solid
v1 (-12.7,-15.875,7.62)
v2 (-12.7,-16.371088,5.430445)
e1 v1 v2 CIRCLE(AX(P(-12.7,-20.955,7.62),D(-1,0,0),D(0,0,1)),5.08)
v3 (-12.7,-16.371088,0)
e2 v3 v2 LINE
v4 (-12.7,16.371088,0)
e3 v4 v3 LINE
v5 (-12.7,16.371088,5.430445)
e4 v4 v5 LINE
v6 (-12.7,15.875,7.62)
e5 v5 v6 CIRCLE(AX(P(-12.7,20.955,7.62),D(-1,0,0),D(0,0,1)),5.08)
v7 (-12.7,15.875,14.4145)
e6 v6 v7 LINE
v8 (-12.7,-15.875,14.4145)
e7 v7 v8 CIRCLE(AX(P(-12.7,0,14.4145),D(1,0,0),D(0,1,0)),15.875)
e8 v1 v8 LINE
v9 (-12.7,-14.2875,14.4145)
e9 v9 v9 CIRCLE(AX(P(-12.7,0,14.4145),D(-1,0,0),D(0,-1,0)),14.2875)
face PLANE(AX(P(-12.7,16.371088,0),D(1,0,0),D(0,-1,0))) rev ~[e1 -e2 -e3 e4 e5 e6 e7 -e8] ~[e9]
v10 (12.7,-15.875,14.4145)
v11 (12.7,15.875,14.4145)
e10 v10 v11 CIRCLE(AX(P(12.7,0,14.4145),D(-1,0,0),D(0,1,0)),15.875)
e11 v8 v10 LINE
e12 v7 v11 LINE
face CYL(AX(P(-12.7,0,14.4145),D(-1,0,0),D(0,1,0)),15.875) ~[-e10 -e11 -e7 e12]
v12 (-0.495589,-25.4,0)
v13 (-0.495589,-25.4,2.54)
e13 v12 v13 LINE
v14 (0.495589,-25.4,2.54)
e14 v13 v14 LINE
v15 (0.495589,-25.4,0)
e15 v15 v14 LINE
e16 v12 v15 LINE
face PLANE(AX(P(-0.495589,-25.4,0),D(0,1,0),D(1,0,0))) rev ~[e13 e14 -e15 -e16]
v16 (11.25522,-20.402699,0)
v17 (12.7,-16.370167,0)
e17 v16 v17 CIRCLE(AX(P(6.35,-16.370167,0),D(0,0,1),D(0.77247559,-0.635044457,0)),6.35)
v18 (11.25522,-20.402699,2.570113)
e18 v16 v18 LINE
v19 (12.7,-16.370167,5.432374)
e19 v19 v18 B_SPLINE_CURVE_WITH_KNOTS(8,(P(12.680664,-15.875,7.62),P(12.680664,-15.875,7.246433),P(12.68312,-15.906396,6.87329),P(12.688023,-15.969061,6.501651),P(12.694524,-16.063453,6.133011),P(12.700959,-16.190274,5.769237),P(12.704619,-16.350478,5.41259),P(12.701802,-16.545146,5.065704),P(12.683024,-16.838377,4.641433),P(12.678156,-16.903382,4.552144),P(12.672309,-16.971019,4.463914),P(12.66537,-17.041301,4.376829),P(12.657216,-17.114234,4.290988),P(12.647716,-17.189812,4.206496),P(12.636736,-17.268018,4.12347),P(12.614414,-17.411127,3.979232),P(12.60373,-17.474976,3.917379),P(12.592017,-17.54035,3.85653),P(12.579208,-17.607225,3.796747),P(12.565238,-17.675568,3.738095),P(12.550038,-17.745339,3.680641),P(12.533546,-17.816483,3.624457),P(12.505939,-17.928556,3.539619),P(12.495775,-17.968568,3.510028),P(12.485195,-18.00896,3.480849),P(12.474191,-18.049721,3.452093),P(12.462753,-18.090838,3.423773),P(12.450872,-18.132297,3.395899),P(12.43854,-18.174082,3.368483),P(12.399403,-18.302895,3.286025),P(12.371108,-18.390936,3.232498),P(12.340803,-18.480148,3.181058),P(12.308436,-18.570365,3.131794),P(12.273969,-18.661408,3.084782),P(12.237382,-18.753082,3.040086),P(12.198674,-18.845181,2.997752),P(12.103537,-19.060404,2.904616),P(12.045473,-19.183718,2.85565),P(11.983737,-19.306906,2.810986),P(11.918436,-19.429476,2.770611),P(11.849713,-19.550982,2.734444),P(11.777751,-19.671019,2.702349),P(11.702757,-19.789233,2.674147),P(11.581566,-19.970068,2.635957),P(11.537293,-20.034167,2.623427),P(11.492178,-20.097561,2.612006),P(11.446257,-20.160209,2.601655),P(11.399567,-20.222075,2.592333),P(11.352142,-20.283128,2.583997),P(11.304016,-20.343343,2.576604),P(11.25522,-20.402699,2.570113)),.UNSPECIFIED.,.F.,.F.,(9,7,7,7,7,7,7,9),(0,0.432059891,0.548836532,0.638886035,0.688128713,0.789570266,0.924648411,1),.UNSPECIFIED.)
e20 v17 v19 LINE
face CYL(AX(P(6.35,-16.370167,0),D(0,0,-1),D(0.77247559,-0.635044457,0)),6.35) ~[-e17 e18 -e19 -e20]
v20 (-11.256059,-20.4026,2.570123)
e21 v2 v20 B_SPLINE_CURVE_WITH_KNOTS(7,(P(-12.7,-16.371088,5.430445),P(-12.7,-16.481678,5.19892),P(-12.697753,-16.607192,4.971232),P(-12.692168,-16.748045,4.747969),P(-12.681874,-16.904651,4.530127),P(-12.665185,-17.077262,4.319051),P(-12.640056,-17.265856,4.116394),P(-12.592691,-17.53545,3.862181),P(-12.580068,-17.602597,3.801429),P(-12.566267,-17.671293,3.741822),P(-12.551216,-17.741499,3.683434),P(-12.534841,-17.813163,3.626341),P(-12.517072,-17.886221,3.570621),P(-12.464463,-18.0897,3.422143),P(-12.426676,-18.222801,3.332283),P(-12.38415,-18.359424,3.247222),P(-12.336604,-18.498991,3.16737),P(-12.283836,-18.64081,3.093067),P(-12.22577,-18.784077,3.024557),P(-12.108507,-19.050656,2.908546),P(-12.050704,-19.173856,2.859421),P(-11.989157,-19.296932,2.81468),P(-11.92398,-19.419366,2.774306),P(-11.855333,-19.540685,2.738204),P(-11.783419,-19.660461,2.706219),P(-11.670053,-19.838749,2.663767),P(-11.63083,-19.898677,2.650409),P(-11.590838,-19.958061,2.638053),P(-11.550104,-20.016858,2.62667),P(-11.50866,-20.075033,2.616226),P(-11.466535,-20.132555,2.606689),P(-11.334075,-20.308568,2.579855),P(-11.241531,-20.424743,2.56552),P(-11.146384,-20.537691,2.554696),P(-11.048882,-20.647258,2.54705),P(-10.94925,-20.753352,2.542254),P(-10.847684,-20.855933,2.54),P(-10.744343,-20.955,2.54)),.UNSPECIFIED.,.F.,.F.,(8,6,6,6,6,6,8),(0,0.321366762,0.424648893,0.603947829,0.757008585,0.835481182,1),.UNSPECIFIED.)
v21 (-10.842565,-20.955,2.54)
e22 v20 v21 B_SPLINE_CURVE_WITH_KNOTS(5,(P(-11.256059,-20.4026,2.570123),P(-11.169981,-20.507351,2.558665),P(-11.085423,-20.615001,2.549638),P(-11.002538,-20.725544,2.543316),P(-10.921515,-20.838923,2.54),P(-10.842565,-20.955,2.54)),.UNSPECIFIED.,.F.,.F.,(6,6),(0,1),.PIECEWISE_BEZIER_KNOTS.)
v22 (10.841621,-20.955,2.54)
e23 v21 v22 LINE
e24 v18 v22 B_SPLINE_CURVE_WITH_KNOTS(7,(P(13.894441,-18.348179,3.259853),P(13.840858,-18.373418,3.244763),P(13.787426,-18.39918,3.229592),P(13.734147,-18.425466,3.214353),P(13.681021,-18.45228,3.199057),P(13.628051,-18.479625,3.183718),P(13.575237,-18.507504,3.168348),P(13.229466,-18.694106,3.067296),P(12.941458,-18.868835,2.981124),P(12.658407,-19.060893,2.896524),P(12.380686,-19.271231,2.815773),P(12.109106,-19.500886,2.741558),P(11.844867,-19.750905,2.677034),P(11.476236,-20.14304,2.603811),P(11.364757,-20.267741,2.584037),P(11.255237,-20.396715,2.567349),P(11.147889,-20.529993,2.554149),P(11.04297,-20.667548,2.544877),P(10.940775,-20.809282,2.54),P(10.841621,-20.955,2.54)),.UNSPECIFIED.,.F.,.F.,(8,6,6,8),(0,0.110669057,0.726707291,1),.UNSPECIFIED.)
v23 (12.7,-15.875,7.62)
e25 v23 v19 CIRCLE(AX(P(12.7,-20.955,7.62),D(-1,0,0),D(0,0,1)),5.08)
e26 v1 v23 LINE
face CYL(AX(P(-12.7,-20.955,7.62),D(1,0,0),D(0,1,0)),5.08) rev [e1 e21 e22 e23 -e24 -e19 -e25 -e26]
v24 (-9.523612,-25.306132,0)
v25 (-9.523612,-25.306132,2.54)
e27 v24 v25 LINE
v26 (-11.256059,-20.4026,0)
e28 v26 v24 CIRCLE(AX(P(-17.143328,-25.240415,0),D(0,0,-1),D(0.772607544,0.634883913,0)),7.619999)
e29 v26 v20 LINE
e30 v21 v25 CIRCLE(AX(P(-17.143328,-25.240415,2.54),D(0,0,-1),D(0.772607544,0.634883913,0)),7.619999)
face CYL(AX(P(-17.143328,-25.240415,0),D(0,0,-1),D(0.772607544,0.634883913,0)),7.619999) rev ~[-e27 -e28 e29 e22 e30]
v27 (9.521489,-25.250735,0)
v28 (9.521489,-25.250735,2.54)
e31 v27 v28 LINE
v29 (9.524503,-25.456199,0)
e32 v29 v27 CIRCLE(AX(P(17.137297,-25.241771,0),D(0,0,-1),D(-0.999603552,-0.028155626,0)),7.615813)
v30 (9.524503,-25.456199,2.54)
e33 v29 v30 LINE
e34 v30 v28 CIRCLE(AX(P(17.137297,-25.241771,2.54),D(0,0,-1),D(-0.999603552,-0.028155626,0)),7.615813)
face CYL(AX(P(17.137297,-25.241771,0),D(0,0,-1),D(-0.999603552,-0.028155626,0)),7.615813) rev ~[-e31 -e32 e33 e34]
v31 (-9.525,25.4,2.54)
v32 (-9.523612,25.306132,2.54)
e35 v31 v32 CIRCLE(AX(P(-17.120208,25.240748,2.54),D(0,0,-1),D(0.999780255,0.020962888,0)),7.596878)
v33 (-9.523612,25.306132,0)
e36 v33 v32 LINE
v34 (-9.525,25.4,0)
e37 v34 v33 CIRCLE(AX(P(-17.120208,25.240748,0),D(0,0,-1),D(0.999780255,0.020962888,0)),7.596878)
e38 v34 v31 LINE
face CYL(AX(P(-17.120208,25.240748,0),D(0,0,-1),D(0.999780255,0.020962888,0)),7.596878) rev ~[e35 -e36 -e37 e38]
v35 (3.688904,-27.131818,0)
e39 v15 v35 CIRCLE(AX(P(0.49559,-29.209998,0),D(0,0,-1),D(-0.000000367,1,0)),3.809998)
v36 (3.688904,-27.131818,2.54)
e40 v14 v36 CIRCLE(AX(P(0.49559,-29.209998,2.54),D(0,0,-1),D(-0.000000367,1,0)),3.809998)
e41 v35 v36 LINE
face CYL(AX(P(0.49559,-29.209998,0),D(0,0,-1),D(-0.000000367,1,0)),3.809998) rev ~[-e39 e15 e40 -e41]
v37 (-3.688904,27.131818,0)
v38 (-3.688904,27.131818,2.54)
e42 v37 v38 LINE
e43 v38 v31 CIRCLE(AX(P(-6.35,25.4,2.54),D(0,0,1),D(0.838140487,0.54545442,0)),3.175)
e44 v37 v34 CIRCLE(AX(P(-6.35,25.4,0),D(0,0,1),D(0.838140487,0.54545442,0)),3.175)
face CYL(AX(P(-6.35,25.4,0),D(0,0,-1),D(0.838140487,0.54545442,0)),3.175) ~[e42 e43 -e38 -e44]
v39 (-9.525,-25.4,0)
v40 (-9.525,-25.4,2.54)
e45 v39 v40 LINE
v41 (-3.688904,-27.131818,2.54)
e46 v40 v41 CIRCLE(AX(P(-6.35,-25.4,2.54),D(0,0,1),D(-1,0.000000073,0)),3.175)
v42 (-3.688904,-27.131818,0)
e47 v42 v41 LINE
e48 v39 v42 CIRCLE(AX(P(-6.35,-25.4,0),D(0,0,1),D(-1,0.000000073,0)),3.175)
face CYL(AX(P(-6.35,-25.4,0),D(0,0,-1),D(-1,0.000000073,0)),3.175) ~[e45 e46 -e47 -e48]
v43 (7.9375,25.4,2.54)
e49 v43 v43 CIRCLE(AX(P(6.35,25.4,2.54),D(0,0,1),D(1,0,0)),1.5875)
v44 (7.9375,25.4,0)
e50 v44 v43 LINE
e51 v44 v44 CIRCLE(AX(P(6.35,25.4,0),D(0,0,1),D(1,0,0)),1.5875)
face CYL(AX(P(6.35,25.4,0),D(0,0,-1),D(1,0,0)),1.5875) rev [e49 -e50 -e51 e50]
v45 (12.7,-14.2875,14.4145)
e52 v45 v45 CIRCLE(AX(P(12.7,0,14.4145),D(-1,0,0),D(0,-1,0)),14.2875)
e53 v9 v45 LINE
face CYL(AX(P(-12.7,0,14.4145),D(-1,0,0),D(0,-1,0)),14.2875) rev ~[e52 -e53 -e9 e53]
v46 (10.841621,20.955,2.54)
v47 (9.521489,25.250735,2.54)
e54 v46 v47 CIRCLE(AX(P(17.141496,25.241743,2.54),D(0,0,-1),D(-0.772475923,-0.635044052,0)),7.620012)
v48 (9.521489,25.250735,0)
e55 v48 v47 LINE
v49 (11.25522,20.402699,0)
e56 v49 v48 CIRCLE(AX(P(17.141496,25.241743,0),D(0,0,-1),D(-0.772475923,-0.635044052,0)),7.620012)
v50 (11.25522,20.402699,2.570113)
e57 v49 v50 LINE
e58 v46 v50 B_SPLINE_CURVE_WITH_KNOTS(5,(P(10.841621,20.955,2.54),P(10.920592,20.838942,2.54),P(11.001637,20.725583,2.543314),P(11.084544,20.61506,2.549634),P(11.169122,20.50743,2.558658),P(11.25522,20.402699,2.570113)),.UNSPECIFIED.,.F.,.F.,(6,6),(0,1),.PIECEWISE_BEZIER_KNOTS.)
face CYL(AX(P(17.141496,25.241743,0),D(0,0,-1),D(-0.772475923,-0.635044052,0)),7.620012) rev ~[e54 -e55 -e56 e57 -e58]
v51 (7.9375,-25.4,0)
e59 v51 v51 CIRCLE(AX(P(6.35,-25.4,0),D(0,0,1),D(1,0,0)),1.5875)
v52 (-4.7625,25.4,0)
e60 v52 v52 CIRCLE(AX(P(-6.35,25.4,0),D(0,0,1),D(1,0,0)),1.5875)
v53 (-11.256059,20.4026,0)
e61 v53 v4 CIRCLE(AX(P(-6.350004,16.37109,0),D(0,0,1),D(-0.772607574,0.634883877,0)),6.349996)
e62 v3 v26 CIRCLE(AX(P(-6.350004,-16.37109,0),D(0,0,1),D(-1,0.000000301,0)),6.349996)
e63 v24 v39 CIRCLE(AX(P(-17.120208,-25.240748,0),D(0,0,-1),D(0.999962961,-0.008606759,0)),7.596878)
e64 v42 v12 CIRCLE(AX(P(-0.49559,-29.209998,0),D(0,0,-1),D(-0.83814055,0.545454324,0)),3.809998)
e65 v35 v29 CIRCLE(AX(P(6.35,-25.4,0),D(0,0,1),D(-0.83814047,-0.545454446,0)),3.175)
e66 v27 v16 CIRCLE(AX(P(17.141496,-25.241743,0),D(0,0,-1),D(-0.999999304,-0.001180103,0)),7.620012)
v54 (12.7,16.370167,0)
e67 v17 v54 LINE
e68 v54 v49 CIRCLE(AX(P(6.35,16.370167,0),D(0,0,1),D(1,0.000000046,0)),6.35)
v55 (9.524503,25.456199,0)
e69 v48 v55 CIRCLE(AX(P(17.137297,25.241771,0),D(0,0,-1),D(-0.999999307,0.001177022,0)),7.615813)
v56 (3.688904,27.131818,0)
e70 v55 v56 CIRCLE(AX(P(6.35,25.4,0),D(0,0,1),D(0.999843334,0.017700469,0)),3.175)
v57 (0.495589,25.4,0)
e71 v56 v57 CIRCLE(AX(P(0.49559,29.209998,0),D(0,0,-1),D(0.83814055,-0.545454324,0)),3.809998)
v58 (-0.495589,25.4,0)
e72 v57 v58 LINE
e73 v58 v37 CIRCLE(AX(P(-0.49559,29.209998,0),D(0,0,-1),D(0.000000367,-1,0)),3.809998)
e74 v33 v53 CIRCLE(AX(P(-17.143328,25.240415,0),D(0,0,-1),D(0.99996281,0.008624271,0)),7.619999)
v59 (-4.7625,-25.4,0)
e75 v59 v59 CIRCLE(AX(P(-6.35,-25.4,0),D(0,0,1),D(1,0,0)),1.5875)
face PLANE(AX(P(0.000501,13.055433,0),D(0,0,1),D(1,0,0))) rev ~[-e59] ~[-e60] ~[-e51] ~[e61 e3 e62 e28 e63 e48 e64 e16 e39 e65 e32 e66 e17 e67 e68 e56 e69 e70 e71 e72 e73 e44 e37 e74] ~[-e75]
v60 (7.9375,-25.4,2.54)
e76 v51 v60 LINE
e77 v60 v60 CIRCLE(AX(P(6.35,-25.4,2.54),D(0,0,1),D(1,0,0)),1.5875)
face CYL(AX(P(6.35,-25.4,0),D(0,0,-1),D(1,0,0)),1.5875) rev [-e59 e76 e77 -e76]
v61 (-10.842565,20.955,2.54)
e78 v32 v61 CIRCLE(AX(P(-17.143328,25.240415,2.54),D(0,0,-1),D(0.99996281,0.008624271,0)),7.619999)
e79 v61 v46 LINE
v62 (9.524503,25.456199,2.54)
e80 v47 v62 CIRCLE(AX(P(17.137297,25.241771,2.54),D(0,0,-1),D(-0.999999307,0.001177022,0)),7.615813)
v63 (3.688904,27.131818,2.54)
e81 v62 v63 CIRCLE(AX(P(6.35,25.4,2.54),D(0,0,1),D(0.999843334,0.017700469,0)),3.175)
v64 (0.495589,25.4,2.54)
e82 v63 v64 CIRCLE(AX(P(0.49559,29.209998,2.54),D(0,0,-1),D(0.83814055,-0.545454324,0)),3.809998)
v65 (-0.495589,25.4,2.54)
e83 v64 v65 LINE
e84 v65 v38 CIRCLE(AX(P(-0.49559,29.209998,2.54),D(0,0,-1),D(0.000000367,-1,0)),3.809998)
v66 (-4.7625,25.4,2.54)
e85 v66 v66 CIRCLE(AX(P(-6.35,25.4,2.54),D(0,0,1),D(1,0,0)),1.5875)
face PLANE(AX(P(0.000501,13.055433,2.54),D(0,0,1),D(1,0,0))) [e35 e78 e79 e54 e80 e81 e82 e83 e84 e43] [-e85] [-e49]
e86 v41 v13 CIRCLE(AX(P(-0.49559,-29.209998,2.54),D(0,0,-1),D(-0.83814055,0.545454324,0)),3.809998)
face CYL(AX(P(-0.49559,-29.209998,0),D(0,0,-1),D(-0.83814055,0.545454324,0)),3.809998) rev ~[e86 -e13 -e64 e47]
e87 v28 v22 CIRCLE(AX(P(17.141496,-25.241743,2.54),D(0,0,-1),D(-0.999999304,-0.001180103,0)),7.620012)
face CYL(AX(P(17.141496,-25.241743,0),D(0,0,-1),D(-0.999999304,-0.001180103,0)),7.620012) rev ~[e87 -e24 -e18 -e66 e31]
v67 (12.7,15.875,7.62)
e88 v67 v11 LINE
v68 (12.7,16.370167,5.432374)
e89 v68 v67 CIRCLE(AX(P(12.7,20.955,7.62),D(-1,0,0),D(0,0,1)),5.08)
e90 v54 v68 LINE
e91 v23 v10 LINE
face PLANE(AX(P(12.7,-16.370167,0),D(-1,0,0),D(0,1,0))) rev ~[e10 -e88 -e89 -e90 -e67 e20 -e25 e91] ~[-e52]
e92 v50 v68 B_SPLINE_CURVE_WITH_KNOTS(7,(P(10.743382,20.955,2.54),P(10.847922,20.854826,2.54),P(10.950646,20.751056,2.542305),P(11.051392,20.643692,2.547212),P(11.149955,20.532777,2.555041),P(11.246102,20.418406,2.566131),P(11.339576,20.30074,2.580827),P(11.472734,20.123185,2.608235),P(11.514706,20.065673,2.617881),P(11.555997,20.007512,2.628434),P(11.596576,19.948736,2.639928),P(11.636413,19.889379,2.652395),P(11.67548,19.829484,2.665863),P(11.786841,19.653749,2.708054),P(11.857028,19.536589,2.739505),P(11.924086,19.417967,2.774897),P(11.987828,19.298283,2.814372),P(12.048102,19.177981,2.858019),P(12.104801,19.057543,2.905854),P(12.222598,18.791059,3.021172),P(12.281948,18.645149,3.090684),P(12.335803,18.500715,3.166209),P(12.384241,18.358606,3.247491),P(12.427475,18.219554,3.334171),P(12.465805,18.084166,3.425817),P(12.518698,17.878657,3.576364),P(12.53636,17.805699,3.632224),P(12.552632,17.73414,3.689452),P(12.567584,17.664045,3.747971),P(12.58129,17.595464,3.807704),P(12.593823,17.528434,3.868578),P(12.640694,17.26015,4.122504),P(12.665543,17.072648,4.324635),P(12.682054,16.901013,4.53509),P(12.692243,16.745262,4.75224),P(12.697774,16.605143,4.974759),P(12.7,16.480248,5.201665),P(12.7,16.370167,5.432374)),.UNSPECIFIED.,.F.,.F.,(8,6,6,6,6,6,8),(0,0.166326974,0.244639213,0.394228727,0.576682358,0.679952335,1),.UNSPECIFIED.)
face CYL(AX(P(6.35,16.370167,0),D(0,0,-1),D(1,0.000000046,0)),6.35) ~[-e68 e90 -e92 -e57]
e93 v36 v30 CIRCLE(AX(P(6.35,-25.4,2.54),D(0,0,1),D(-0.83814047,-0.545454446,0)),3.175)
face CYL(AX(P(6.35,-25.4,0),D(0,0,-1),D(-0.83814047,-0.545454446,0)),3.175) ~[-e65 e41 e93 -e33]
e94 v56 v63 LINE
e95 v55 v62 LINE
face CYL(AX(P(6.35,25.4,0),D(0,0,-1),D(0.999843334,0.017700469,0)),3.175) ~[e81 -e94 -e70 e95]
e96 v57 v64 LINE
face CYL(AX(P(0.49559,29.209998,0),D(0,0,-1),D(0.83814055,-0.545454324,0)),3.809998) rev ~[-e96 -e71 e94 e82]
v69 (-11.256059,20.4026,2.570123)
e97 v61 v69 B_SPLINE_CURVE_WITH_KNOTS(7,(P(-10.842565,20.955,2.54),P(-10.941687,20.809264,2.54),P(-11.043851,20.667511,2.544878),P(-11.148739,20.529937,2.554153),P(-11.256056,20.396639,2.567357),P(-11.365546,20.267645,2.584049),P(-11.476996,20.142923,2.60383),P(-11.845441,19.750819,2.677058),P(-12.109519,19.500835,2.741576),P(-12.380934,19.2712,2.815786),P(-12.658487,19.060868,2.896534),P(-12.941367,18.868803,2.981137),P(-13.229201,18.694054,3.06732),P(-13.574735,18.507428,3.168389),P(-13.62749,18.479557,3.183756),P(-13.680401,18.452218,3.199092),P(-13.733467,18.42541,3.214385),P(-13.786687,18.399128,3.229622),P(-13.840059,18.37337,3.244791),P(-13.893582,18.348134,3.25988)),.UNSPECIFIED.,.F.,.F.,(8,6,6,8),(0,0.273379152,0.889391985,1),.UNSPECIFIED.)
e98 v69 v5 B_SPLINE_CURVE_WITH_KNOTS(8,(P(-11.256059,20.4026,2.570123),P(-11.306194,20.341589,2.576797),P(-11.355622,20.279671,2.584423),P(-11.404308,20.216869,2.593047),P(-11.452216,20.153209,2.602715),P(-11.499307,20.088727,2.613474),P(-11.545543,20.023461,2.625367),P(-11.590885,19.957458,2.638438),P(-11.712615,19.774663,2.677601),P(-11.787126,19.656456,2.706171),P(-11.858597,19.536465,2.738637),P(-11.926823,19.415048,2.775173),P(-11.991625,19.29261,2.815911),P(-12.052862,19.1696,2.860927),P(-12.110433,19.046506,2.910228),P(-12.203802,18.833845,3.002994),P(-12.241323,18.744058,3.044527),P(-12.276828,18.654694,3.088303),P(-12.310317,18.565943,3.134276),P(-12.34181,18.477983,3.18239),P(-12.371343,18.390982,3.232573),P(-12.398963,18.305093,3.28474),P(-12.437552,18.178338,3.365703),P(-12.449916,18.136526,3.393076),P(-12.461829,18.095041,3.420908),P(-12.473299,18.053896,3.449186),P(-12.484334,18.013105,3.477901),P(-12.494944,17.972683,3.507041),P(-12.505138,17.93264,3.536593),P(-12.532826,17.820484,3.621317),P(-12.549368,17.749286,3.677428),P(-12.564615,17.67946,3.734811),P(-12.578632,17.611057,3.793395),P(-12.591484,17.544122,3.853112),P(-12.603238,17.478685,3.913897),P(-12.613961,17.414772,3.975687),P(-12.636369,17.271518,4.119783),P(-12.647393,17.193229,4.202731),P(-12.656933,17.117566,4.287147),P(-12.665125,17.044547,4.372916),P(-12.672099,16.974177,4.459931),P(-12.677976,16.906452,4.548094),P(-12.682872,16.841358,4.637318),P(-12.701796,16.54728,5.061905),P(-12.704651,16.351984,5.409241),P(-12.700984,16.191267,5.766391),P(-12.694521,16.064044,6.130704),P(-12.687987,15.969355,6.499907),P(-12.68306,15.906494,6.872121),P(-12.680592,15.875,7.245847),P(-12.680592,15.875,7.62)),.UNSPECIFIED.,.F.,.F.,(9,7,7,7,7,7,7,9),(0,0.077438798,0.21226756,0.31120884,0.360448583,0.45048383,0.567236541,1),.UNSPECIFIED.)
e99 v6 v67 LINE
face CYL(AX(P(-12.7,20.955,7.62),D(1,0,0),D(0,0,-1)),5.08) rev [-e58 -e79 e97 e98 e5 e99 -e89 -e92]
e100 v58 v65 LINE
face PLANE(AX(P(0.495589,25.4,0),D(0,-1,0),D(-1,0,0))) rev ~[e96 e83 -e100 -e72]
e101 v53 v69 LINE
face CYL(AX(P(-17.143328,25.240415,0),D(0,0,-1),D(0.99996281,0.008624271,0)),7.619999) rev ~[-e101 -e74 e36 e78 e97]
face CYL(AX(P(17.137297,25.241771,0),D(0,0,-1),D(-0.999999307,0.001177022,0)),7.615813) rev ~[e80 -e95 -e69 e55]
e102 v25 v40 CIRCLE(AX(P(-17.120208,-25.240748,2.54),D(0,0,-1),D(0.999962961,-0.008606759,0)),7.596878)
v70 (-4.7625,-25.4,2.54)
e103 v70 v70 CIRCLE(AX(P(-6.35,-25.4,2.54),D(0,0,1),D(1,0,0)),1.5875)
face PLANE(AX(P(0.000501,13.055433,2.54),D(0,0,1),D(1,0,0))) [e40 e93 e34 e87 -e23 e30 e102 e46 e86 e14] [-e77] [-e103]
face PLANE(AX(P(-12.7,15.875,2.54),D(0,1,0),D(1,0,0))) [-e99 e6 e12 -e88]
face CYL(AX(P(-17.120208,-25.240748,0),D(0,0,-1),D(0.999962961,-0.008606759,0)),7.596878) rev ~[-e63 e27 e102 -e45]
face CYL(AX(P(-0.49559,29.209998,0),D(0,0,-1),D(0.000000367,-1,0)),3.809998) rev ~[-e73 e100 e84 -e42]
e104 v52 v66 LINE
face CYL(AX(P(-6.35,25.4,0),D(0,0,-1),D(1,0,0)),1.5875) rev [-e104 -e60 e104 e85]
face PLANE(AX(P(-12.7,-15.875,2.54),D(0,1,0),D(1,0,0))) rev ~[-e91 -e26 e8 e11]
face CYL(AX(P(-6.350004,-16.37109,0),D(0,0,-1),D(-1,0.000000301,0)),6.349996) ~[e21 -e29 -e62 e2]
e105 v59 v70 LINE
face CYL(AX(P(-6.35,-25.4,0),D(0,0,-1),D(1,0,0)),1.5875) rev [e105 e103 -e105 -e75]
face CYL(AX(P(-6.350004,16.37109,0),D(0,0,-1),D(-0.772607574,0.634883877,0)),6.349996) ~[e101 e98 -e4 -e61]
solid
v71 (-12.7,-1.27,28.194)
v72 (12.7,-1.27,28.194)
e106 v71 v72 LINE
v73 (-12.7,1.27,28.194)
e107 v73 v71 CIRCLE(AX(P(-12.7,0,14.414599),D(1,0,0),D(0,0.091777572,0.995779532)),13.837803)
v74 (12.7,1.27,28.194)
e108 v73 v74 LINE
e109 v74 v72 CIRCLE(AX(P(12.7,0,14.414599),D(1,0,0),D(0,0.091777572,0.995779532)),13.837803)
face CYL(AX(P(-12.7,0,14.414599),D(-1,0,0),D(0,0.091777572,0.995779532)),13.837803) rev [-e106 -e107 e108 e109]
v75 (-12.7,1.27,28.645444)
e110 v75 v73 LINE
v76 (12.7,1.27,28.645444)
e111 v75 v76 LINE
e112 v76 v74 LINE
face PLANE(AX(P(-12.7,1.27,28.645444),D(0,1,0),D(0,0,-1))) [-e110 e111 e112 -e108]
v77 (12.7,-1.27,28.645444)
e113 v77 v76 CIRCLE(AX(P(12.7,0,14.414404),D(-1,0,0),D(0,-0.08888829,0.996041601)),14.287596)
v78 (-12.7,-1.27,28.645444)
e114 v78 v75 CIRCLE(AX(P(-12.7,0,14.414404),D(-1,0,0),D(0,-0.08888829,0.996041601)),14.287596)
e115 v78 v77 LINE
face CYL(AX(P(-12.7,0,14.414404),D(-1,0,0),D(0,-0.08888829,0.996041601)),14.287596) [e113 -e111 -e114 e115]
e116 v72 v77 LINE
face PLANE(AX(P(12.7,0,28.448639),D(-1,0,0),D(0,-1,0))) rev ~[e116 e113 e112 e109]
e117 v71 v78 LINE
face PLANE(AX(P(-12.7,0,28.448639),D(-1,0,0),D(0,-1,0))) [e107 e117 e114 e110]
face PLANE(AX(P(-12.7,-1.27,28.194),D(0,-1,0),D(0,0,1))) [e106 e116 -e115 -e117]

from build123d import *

# Parameters (mm, degrees)
F0_R     = 1.5875
F1_DEPTH = 2.54
F2_W     = 25.4
F2_H     = 31.75
F3_DEPTH = 31.75
F4_R     = 14.2875
F5_DEPTH = 53.3654
F6_R     = 5.08
F8_DEPTH = 25.4


with BuildPart() as f1:
    # F0 (on Top) → F1 (new body)
    with BuildSketch(Plane.XY):
        with BuildLine():
            Line((0, 0), (12.7, 0))
            Line((12.7, 0), (12.7, 16.370167))
            ThreePointArc((12.7, 16.370167), (12.327903, 18.511936), (11.25522, 20.402699))
            ThreePointArc((11.25522, 20.402699), (9.966485, 22.67585), (9.521489, 25.250735))
            ThreePointArc((9.521489, 25.250735), (9.522303, 25.353477), (9.524503, 25.456199))
            ThreePointArc((9.524503, 25.456199), (7.226254, 28.451689), (3.688904, 27.131818))
            ThreePointArc((3.688904, 27.131818), (2.311936, 25.860823), (0.495589, 25.4))
            Line((0.495589, 25.4), (-0.495589, 25.4))
            ThreePointArc((-0.495589, 25.4), (-2.311936, 25.860823), (-3.688904, 27.131818))
            ThreePointArc((-3.688904, 27.131818), (-7.253229, 28.443814), (-9.525, 25.4))
            ThreePointArc((-9.525, 25.4), (-9.524161, 25.353068), (-9.523612, 25.306132))
            ThreePointArc((-9.523612, 25.306132), (-9.958565, 22.701996), (-11.256059, 20.4026))
            ThreePointArc((-11.256059, 20.4026), (-12.328126, 18.512236), (-12.7, 16.371088))
            Line((-12.7, 16.371088), (-12.7, 0))
            Line((-12.7, 0), (0, 0))
        make_face()
        with Locations((-6.35, 25.4)):
            Circle(F0_R, mode=Mode.SUBTRACT)
        with Locations((6.35, 25.4)):
            Circle(F0_R, mode=Mode.SUBTRACT)
        with BuildLine():
            Line((12.7, -16.370167), (12.7, 0))
            Line((12.7, 0), (0, 0))
            Line((0, 0), (-12.7, 0))
            Line((-12.7, 0), (-12.7, -16.371088))
            ThreePointArc((-12.7, -16.371088), (-12.328126, -18.512236), (-11.256059, -20.4026))
            ThreePointArc((-11.256059, -20.4026), (-9.958565, -22.701996), (-9.523612, -25.306132))
            ThreePointArc((-9.523612, -25.306132), (-9.524161, -25.353068), (-9.525, -25.4))
            ThreePointArc((-9.525, -25.4), (-7.253229, -28.443814), (-3.688904, -27.131818))
            ThreePointArc((-3.688904, -27.131818), (-2.311936, -25.860823), (-0.495589, -25.4))
            Line((-0.495589, -25.4), (0.495589, -25.4))
            ThreePointArc((0.495589, -25.4), (2.311936, -25.860823), (3.688904, -27.131818))
            ThreePointArc((3.688904, -27.131818), (7.226254, -28.451689), (9.524503, -25.456199))
            ThreePointArc((9.524503, -25.456199), (9.522303, -25.353477), (9.521489, -25.250735))
            ThreePointArc((9.521489, -25.250735), (9.966485, -22.67585), (11.25522, -20.402699))
            ThreePointArc((11.25522, -20.402699), (12.327903, -18.511936), (12.7, -16.370167))
        make_face()
        with Locations((-6.35, -25.4)):
            Circle(F0_R, mode=Mode.SUBTRACT)
        with Locations((6.35, -25.4)):
            Circle(F0_R, mode=Mode.SUBTRACT)
    extrude(amount=F1_DEPTH)

    # F2 (on face) → F3 (join)
    with BuildSketch(Plane.XY.offset(2.54)):
        Rectangle(F2_W, F2_H)
    extrude(amount=F3_DEPTH)

    # F4 (on face) → F5 (cut)
    with BuildSketch(Plane(origin=(-12.7, 0, 0), x_dir=(0, -1, 0), z_dir=(-1, 0, 0))):
        with BuildLine():
            ThreePointArc((-15.875, 14.4145), (0, 30.2895), (15.875, 14.4145))
            Line((15.875, 14.4145), (15.875, 34.29))
            Line((15.875, 34.29), (-15.875, 34.29))
            Line((-15.875, 34.29), (-15.875, 14.4145))
        make_face()
        with Locations((0, 14.4145)):
            Circle(F4_R)
    extrude(amount=-F5_DEPTH, mode=Mode.SUBTRACT)

    # F6
    f6_edges = [f1.edges().sort_by_distance(p)[0] for p in [
        (0, -15.875, 2.54),
        (0, 15.875, 2.54),
    ]]
    fillet(f6_edges, radius=F6_R)


with BuildPart() as f8:
    # F7 (on face) → F8 (new body)
    with BuildSketch(Plane(origin=(-12.7, 0, 0), x_dir=(0, -1, 0), z_dir=(-1, 0, 0))):
        with BuildLine():
            Line((1.27, 28.194), (1.27, 28.645444))
            ThreePointArc((1.27, 28.645444), (0, 28.702), (-1.27, 28.645444))
            Line((-1.27, 28.645444), (-1.27, 28.194))
            ThreePointArc((-1.27, 28.194), (0, 28.252402), (1.27, 28.194))
        make_face()
    extrude(amount=-F8_DEPTH)


solid = Compound([f1.part, f8.part])
